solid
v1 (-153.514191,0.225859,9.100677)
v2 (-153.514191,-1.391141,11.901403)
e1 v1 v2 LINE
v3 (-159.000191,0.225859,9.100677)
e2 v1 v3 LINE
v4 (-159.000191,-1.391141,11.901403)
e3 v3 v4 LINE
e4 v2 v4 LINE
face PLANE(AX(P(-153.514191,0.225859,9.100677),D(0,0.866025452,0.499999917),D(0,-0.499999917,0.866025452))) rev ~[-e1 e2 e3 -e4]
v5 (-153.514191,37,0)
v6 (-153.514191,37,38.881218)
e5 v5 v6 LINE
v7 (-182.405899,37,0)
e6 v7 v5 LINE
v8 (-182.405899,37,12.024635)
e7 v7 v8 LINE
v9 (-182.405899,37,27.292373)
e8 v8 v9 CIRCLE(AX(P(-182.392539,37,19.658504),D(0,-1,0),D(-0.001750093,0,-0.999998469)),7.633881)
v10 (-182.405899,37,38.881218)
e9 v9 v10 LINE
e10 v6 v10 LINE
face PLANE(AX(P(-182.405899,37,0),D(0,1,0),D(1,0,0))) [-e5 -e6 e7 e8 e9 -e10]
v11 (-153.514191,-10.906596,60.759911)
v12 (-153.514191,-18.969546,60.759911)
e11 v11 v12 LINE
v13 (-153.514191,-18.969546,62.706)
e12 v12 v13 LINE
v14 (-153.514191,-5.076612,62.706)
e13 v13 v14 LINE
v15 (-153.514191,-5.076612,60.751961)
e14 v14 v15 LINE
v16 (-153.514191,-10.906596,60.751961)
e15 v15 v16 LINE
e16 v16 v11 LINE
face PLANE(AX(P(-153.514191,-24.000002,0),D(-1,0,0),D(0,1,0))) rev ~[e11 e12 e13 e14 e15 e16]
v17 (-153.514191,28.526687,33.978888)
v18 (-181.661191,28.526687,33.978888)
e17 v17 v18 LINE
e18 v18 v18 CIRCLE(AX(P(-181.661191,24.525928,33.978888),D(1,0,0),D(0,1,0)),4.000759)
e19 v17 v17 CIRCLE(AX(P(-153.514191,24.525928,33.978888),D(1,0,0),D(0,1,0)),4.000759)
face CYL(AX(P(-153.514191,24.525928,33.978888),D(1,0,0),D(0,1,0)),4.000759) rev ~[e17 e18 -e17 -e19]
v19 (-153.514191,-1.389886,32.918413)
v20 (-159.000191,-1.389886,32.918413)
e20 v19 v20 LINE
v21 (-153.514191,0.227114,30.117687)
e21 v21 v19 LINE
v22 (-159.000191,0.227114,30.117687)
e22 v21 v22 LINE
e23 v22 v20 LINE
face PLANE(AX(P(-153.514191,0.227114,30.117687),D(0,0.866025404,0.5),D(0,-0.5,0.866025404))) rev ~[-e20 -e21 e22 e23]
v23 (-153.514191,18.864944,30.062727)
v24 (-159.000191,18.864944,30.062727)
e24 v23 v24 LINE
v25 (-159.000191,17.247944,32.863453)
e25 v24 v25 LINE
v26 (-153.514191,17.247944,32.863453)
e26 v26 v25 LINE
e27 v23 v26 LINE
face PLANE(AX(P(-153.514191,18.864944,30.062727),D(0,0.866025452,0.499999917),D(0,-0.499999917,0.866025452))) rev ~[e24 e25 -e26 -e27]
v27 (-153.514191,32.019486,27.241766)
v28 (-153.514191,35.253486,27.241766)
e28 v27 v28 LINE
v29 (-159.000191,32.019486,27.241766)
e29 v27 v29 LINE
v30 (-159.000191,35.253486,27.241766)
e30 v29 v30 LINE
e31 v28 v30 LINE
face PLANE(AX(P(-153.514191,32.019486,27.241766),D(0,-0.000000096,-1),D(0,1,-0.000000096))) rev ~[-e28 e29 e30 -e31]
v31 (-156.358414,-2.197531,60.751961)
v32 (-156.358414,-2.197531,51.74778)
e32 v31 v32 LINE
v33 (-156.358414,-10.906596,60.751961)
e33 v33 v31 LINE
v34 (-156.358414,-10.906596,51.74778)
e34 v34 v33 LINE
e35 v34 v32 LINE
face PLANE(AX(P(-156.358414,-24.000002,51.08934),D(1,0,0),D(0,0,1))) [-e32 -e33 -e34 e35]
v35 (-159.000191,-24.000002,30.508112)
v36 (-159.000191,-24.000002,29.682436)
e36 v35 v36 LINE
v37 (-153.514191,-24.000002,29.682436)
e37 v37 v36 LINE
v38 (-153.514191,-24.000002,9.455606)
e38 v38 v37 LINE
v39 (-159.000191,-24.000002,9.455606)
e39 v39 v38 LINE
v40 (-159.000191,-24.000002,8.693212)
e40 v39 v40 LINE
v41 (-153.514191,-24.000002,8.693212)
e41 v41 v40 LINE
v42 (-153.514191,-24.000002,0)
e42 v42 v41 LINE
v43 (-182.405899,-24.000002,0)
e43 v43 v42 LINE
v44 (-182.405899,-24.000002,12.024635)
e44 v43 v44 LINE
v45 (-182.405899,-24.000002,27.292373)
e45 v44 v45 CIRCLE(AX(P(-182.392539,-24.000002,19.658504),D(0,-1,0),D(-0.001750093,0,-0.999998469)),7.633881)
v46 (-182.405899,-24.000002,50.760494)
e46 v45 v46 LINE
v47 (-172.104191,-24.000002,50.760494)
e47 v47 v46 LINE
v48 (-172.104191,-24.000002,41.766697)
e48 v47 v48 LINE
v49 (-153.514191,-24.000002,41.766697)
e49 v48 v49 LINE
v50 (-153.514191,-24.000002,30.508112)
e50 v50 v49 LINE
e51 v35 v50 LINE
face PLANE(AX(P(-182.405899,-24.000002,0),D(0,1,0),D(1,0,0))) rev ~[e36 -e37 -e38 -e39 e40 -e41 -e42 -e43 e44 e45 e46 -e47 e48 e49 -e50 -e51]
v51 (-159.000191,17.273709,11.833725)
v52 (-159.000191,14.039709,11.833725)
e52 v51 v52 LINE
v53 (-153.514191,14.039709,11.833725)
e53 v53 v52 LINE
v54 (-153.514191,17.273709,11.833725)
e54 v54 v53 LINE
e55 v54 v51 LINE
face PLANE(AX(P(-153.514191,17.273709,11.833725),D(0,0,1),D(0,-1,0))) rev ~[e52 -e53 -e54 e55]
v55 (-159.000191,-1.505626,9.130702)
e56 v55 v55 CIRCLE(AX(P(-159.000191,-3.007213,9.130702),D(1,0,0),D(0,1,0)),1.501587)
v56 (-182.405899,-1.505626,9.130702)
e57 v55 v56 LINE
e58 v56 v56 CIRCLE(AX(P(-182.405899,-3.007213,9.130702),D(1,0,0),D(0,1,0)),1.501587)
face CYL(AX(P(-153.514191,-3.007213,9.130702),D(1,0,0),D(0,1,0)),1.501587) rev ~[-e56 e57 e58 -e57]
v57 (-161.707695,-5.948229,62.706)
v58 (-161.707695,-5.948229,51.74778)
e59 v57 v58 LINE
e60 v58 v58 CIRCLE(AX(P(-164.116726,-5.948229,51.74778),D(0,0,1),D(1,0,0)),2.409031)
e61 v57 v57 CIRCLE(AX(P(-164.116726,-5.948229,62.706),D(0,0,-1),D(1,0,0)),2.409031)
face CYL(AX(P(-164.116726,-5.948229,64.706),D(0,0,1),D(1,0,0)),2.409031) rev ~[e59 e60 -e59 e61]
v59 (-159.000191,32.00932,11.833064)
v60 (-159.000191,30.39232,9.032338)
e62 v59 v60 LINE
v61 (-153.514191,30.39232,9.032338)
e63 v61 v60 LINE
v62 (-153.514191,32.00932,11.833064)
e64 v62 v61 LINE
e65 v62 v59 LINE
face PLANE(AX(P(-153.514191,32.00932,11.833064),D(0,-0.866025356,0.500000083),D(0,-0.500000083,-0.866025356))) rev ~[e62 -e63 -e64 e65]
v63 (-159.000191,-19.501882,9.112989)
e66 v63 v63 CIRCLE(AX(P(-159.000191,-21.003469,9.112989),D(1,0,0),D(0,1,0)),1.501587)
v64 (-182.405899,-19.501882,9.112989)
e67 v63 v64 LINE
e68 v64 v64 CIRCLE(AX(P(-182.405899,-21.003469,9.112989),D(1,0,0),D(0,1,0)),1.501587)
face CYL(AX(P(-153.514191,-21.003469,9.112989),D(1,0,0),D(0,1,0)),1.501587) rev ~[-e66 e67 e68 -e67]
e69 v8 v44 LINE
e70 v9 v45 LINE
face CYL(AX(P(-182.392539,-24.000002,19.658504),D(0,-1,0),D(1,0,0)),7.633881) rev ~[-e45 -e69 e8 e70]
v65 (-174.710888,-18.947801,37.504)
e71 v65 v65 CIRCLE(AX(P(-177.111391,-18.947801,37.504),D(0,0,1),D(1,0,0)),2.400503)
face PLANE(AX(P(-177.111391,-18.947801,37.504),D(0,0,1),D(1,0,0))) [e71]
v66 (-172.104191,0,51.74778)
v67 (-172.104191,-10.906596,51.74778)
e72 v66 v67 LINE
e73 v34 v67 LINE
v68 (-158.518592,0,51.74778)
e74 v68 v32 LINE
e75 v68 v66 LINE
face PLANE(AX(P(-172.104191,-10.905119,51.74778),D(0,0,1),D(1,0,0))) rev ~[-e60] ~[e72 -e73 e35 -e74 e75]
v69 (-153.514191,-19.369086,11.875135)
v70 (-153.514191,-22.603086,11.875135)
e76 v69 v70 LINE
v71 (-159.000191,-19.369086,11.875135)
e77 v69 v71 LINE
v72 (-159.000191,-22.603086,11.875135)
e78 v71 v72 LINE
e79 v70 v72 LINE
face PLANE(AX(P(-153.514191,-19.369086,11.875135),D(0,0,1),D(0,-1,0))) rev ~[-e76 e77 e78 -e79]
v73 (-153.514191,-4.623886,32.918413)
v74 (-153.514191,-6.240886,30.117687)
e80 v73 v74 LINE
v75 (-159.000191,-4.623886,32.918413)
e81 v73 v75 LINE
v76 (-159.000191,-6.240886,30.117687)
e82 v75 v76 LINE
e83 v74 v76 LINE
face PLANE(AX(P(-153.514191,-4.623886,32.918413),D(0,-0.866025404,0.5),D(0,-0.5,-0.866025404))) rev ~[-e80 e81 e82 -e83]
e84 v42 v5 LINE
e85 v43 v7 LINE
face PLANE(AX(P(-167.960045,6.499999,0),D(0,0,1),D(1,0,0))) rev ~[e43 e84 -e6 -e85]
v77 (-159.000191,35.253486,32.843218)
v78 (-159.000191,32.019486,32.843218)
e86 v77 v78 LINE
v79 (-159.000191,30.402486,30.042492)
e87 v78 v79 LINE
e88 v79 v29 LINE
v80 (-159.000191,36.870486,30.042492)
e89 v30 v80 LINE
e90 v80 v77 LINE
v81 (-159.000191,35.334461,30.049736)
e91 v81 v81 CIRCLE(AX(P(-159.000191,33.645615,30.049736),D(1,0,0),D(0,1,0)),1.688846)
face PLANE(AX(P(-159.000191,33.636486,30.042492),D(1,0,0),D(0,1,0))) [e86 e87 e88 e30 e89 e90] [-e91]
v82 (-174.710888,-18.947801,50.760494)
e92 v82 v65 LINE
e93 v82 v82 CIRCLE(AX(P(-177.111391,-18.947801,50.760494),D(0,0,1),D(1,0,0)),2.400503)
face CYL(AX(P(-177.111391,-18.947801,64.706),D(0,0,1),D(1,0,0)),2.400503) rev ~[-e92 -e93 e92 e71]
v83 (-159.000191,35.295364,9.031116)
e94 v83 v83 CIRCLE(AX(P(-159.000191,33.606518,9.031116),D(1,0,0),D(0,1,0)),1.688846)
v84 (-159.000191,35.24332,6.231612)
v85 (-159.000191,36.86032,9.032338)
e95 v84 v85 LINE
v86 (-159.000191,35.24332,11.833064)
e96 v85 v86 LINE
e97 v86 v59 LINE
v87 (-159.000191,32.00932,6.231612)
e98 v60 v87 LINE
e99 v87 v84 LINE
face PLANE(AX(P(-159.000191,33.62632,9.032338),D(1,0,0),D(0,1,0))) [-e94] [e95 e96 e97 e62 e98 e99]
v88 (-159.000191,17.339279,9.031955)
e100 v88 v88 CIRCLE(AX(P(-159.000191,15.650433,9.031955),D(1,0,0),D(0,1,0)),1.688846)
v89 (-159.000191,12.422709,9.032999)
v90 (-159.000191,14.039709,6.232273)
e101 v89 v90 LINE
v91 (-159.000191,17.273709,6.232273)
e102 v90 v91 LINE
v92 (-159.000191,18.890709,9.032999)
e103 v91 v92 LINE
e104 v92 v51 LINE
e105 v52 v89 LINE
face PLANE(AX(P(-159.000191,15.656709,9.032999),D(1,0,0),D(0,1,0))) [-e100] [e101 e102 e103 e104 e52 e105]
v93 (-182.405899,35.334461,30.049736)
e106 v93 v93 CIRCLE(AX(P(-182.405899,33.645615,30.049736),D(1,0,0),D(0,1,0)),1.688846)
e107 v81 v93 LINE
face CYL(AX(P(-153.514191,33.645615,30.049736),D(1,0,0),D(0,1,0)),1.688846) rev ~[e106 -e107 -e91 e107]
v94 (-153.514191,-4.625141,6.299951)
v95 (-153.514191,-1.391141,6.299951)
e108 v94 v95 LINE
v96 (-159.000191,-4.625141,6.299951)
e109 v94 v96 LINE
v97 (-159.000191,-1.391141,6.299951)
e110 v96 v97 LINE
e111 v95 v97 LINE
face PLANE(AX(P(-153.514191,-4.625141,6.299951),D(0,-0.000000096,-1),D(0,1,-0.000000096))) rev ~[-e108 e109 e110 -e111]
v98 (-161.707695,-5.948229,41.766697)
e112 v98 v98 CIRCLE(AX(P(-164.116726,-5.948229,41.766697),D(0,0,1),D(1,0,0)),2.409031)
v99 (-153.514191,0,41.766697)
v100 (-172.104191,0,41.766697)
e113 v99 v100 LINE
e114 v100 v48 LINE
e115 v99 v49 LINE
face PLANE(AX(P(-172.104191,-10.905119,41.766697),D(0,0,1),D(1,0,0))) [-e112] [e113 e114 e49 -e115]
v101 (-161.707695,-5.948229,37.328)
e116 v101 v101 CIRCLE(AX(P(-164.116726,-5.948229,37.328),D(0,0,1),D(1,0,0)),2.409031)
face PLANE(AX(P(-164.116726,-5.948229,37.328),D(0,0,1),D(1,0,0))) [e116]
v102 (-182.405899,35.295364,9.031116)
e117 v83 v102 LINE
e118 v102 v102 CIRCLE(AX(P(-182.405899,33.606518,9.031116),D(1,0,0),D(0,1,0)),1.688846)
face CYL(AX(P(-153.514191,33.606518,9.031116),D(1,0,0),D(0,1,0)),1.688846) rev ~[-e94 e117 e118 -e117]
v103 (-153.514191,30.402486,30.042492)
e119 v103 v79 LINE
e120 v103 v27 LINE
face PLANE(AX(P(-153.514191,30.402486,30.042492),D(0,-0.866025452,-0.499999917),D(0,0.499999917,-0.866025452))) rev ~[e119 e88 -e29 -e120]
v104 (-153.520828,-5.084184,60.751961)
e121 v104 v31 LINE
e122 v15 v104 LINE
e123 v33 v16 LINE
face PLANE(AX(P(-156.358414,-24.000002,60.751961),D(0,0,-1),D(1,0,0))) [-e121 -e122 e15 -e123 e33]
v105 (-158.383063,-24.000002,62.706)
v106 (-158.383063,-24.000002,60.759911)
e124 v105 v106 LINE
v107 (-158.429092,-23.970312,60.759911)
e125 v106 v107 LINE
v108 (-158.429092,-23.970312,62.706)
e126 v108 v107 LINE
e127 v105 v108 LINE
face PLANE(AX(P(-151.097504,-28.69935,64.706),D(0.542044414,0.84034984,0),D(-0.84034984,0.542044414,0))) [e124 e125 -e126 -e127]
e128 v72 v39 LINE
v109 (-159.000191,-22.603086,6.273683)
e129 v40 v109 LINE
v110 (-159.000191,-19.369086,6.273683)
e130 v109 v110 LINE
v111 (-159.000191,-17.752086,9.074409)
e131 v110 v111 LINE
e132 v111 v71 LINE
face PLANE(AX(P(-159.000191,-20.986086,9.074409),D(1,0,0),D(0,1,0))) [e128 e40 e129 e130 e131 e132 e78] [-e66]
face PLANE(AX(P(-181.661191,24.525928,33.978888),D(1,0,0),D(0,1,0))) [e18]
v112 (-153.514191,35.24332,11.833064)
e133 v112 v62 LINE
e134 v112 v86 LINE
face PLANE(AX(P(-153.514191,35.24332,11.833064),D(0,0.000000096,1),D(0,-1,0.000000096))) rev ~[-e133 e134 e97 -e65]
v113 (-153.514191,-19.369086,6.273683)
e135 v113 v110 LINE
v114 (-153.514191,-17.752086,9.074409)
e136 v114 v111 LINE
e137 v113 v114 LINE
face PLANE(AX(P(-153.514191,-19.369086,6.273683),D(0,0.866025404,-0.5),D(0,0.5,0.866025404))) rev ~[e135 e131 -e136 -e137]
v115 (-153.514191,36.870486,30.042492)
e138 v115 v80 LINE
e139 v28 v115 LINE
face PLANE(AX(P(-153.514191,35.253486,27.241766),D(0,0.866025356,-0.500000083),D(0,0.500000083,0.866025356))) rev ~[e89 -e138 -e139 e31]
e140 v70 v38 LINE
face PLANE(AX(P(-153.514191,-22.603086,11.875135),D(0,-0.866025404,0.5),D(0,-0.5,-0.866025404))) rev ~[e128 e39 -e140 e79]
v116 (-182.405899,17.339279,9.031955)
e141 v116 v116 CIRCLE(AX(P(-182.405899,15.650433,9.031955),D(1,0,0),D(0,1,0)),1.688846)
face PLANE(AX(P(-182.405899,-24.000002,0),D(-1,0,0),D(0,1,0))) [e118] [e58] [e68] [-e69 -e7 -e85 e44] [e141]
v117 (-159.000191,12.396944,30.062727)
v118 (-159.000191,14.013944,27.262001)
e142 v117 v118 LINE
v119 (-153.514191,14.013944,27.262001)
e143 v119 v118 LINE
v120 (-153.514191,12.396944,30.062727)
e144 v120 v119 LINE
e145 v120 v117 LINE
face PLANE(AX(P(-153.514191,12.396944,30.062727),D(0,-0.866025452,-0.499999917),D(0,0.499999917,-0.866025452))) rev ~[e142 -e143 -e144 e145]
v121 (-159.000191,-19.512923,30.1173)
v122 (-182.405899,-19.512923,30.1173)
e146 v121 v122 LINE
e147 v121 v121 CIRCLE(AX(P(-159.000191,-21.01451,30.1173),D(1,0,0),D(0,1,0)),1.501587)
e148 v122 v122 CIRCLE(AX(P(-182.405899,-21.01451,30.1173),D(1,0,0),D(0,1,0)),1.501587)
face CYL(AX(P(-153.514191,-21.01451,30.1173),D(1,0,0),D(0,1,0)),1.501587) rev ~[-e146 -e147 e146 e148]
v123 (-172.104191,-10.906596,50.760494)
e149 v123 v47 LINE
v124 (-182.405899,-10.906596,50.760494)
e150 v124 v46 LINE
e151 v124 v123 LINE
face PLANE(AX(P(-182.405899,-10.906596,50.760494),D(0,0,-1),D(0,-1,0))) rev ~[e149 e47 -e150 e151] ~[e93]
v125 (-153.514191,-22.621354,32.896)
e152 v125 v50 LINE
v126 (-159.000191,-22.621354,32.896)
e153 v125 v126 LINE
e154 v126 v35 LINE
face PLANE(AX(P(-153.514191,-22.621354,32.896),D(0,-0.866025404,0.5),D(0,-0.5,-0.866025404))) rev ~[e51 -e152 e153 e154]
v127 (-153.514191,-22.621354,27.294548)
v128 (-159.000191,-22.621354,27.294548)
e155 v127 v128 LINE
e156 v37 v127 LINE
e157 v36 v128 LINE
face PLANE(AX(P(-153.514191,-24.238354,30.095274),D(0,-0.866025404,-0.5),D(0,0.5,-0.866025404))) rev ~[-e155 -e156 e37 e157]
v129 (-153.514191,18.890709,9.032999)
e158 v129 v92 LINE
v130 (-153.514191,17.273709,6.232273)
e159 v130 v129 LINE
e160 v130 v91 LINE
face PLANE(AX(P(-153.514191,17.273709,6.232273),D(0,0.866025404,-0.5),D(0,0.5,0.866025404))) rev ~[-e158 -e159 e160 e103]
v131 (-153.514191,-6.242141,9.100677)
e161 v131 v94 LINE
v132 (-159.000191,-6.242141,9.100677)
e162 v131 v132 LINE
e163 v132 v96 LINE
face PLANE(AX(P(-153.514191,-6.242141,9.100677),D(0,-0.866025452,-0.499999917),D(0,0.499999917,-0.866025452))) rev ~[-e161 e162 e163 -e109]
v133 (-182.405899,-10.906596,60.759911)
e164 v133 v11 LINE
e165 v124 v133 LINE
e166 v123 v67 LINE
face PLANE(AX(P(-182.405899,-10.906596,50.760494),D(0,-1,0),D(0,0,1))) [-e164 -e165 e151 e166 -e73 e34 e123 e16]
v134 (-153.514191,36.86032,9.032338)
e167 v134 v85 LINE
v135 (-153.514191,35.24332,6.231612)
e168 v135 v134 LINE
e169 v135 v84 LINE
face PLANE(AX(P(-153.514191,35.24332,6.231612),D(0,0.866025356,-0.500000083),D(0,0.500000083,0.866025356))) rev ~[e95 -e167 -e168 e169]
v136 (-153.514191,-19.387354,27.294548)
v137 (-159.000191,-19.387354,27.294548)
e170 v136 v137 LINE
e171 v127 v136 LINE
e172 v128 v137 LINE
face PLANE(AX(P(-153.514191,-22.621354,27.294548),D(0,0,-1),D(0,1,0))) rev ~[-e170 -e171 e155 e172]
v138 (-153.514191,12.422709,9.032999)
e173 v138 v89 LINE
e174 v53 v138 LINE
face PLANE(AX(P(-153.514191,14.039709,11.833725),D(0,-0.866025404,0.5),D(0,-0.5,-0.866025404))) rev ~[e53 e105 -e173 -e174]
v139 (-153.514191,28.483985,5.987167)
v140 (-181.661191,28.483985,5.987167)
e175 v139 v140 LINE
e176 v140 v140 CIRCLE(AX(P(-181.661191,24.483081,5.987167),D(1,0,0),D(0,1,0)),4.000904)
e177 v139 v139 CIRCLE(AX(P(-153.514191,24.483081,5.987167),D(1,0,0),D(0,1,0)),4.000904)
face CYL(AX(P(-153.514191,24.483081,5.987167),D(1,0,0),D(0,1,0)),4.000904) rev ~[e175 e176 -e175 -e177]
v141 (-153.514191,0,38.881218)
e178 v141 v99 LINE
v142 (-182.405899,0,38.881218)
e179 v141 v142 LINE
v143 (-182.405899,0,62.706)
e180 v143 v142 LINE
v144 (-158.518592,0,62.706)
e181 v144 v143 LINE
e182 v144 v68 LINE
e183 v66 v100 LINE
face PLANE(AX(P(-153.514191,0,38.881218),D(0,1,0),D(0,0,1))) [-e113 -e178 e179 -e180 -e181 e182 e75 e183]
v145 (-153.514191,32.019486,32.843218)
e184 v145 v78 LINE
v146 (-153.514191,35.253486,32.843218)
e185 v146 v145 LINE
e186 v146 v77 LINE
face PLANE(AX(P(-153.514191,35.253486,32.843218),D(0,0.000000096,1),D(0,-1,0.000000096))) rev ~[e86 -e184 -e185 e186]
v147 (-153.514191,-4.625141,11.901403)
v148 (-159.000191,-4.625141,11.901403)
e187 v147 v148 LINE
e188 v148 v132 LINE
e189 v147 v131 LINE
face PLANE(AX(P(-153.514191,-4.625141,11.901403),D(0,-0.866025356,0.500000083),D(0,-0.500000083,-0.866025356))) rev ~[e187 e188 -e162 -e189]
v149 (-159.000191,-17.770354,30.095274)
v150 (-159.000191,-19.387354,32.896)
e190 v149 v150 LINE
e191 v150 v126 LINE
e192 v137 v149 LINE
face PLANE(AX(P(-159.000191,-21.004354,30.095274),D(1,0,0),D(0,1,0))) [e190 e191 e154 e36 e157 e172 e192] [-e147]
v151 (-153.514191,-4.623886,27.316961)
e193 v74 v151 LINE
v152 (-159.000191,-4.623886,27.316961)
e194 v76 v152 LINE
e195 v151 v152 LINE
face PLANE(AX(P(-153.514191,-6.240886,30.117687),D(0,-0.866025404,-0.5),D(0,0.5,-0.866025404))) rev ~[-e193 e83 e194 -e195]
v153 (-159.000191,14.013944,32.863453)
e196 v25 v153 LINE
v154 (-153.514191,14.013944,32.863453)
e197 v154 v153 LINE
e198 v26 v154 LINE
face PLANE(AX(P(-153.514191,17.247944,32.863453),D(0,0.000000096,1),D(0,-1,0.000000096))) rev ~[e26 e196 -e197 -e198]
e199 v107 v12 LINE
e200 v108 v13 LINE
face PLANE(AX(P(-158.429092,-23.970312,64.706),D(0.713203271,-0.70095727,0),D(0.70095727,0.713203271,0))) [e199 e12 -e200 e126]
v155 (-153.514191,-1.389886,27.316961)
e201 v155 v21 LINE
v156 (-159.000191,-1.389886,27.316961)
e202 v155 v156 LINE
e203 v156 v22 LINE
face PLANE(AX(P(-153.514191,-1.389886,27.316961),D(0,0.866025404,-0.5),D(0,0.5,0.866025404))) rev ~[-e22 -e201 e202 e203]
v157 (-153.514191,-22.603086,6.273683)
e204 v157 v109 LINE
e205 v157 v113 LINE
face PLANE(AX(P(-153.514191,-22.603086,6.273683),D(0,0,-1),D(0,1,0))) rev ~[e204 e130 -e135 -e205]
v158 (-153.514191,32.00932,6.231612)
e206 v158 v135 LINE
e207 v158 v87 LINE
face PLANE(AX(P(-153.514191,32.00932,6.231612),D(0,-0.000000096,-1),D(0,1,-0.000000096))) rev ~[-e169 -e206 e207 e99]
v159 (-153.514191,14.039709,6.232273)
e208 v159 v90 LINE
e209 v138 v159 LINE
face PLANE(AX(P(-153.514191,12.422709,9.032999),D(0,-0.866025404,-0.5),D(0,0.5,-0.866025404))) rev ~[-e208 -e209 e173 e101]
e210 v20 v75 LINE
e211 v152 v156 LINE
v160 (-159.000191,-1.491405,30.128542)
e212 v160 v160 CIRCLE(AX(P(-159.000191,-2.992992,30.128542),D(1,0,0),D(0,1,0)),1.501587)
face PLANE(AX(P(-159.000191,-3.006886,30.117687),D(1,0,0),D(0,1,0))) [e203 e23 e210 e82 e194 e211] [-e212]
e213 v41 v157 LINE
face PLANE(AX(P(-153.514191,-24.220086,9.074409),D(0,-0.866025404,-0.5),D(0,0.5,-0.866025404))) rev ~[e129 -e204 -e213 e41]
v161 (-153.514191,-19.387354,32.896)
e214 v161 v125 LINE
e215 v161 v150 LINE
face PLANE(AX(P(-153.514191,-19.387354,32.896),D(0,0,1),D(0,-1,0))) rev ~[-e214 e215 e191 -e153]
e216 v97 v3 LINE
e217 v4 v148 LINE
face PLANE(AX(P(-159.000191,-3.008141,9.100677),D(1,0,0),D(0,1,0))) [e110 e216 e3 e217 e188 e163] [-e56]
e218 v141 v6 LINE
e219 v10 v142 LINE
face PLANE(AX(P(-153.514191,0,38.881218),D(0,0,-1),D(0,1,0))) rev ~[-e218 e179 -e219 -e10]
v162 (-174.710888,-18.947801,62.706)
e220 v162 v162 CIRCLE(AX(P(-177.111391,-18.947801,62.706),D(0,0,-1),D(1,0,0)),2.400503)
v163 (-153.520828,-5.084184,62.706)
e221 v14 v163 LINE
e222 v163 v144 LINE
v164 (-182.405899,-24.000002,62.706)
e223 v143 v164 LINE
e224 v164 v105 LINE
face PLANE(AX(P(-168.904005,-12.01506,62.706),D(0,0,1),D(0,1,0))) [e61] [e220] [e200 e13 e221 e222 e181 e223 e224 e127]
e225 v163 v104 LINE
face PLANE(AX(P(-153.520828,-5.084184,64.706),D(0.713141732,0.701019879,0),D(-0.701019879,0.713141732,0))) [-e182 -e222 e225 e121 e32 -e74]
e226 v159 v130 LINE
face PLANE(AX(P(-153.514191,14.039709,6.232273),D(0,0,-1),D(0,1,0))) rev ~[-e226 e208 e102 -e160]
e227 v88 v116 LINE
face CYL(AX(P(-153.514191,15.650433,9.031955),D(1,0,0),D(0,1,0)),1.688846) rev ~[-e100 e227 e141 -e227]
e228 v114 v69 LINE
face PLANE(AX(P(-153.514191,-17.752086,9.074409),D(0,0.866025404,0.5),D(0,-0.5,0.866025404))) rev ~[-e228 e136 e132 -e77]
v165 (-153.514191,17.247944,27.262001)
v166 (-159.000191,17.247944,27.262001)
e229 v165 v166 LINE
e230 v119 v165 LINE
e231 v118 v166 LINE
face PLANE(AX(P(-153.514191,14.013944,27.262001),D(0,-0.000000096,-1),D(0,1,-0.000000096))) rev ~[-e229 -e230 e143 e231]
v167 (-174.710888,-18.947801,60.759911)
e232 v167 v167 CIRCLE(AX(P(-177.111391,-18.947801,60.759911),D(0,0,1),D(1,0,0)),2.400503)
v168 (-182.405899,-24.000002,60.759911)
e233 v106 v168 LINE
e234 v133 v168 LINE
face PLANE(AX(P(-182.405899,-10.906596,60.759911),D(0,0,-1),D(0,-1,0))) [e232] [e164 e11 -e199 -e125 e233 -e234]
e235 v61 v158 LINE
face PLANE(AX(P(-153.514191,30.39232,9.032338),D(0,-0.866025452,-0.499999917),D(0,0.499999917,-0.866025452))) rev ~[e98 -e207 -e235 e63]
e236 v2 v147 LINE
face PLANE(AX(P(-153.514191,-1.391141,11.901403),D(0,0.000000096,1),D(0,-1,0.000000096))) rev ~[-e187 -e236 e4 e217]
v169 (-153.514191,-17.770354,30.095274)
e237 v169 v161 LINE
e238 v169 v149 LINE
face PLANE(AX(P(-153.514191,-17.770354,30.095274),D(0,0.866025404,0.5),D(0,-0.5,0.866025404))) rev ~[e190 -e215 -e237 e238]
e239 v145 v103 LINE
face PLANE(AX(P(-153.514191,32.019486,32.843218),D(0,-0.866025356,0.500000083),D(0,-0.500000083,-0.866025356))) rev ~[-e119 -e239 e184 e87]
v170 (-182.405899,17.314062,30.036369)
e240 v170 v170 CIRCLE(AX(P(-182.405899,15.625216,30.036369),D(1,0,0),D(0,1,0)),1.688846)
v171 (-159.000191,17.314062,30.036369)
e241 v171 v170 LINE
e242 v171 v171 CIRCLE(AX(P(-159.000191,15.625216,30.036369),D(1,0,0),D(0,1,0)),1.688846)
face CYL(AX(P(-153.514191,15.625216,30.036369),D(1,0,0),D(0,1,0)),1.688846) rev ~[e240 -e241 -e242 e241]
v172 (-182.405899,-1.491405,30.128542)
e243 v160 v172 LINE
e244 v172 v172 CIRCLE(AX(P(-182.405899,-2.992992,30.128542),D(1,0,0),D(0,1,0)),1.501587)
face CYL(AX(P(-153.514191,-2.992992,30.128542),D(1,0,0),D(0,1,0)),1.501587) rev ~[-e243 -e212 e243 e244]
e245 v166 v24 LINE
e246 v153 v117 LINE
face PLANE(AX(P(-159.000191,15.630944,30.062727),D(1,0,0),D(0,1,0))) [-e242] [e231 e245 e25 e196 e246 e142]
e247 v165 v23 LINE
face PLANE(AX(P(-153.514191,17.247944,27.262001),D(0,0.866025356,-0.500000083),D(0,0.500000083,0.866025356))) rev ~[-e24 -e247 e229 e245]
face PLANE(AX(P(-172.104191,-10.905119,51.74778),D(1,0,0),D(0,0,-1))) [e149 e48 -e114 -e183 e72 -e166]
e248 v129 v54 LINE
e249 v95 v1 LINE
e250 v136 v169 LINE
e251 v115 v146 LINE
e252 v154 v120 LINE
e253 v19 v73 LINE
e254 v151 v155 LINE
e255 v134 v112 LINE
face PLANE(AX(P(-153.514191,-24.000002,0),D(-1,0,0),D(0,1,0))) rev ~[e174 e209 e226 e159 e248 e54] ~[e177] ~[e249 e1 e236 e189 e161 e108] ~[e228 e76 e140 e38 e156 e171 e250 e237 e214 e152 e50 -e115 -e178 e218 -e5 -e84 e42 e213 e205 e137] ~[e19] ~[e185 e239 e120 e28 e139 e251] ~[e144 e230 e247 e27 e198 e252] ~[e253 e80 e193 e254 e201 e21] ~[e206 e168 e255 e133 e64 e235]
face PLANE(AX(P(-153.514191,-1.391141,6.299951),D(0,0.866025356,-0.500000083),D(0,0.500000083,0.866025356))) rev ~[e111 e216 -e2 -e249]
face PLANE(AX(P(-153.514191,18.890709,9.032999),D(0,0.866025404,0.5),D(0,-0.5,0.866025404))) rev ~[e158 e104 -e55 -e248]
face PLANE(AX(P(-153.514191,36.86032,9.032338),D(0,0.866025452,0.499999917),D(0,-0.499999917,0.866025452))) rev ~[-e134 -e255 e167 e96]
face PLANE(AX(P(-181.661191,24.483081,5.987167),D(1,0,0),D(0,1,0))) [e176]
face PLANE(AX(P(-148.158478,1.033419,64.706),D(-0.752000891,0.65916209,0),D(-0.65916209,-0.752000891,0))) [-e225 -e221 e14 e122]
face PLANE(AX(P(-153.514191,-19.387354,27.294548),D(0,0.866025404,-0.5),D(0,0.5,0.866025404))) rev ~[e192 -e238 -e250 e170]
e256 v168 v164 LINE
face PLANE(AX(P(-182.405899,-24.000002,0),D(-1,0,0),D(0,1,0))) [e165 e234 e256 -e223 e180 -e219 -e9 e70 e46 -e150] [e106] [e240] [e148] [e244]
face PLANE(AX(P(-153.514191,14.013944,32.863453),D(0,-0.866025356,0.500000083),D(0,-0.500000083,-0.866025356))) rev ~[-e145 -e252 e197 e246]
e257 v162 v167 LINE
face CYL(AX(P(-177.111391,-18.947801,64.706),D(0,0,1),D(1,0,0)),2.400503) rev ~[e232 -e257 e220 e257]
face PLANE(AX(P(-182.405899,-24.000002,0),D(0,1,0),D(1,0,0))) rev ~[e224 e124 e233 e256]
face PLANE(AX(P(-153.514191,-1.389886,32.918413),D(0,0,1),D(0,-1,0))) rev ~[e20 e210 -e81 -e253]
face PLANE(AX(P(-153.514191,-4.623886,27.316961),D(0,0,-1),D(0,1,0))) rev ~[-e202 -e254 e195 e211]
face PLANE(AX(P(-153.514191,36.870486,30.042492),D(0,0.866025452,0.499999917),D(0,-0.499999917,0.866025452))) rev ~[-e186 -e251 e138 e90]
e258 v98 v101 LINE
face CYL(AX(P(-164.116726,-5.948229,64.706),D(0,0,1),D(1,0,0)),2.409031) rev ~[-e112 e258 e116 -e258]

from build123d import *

# Parameters (mm, degrees)
SKETCH_W             = 28.891708
SKETCH_H             = 61.000002
PAD_DEPTH            = 64.706
POCKET_DEPTH         = 5.486
SKETCH002_R          = 4.000759
SKETCH002_R_2        = 4.000904
POCKET013_DEPTH      = 28.147
SKETCH003_R          = 7.633881
POCKET014_DEPTH      = 90
SKETCH004_R          = 1.501587
SKETCH004_R_2        = 1.6888463945
SKETCH004_R_3        = 1.688846
POCKET015_DEPTH      = 71
SKETCH005_W          = 61.94006
SKETCH005_H          = 58.87719
POCKET016_DEPTH      = 34
SKETCH006_W          = 11.564612
SKETCH006_H          = 9.981083
POCKET017_DEPTH      = 18.59
POCKET018_DEPTH      = 14
SKETCH008_W          = 13.093784
SKETCH008_H          = 9.999417
POCKET019_DEPTH      = 38
POCKET019_FACE20_W   = 18.59
POCKET019_FACE20_H   = 9.981083
POCKET020_DEPTH      = 21
SKETCH009_R          = 2.400503
POCKET021_DEPTH      = 27.202
SKETCH010_R          = 2.409031
POCKET022_DEPTH      = 27.378
SKETCH011_W          = 3.434418
SKETCH011_H          = 9.662621
POCKET023_DEPTH      = 54
POCKET023_FACE73_R   = 2.400503
POCKET023_FACE73_R_2 = 2.409031
POCKET024_DEPTH      = 2


with BuildPart() as part:
    # Sketch → Pad (new body)
    with BuildSketch(Plane.XY):
        with Locations((-167.960045, 6.499999)):
            Rectangle(SKETCH_W, SKETCH_H)
    extrude(amount=PAD_DEPTH)

    # Sketch001 (on Face2 of Pad) → Pocket (cut)
    with BuildSketch(Plane.YZ.offset(-153.514191)):
        Polygon((0.227114, 30.1176869999), (-1.3898859999, 32.9184131558), (-4.6238859999, 32.9184131559), (-6.240886, 30.1176870001), (-4.6238860001, 27.3169608442), (-1.3898860001, 27.3169608441), align=None)
        Polygon((18.864944, 30.0627266883), (17.2479442699, 32.863453), (14.0139442699, 32.8634533117), (12.396944, 30.0627273117), (14.0139437301, 27.262001), (17.2479437301, 27.2620006883), align=None)
        Polygon((36.870486, 30.0424916883), (35.2534862699, 32.843218), (32.0194862699, 32.8432183117), (30.402486, 30.0424923117), (32.0194857301, 27.241766), (35.2534857301, 27.2417656883), align=None)
        Polygon((-17.752086, 9.074409), (-19.369086, 11.8751351559), (-22.603086, 11.8751351558), (-24.220086, 9.074409), (-22.603086, 6.2736828441), (-19.369086, 6.2736828442), align=None)
        Polygon((0.225859, 9.1006766883), (-1.3911407301, 11.901403), (-4.6251407301, 11.9014033117), (-6.242141, 9.1006773117), (-4.6251412699, 6.299951), (-1.3911412699, 6.2999506883), align=None)
        Polygon((36.86032, 9.0323376883), (35.2433202699, 11.833064), (32.0093202699, 11.8330643117), (30.39232, 9.0323383117), (32.0093197301, 6.231612), (35.2433197301, 6.2316116883), align=None)
        Polygon((18.890709, 9.0329989998), (17.2737090002, 11.8337251557), (14.0397090002, 11.8337251559), (12.422709, 9.0329990002), (14.0397089998, 6.2322728443), (17.2737089998, 6.2322728441), align=None)
        Polygon((-17.770354, 30.0952738442), (-19.387354, 32.896), (-22.621354, 32.896), (-24.238354, 30.0952738442), (-22.621354, 27.2945476883), (-19.387354, 27.2945476883), align=None)
    extrude(amount=-POCKET_DEPTH, mode=Mode.SUBTRACT)

    # Sketch002 (on Face3 of Pocket) → Pocket013 (cut)
    with BuildSketch(Plane.YZ.offset(-153.514191)):
        with Locations((24.525928, 33.978888)):
            Circle(SKETCH002_R)
        with Locations((24.483081, 5.987167)):
            Circle(SKETCH002_R_2)
    extrude(amount=-POCKET013_DEPTH, mode=Mode.SUBTRACT)

    # Sketch003 (on Face1 of Pocket013) → Pocket014 (cut)
    with BuildSketch(Plane.XZ.offset(24.000002)):
        with Locations((-182.392539, 19.658504)):
            Circle(SKETCH003_R)
    extrude(amount=-POCKET014_DEPTH, mode=Mode.SUBTRACT)

    # Sketch004 (on Face3 of Pocket014) → Pocket015 (cut)
    with BuildSketch(Plane.YZ.offset(-153.514191)):
        with Locations((-2.992992, 30.128542)):
            Circle(SKETCH004_R)
        with Locations((15.650433, 9.031955)):
            Circle(SKETCH004_R_2)
        with Locations((-21.003469, 9.112989)):
            Circle(SKETCH004_R)
        with Locations((-3.007213, 9.130702)):
            Circle(SKETCH004_R)
        with Locations((-21.01451, 30.1173)):
            Circle(SKETCH004_R)
        with Locations((33.645615, 30.049736)):
            Circle(SKETCH004_R_3)
        with Locations((33.606518, 9.031116)):
            Circle(SKETCH004_R_3)
        with Locations((15.625216, 30.036369)):
            Circle(SKETCH004_R_3)
    extrude(amount=-POCKET015_DEPTH, mode=Mode.SUBTRACT)

    # Sketch005 (on Face3 of Pocket015) → Pocket016 (cut)
    with BuildSketch(Plane.YZ.offset(-153.514191)):
        with Locations((30.97003, 68.319813)):
            Rectangle(SKETCH005_W, SKETCH005_H)
    extrude(amount=-POCKET016_DEPTH, mode=Mode.SUBTRACT)

    # Sketch006 (on Face3 of Pocket016) → Pocket017 (cut)
    with BuildSketch(Plane.YZ.offset(-153.514191)):
        with Locations((-5.122813, 46.7572385)):
            Rectangle(SKETCH006_W, SKETCH006_H)
    extrude(amount=-POCKET017_DEPTH, mode=Mode.SUBTRACT)

    # Sketch007 (on Face10 of Pocket017) → Pocket018 (cut)
    with BuildSketch(Plane.XY.offset(64.706)):
        Polygon((-158.429092, -23.970312), (-153.252335, -18.703115), (-151.097504, -28.69935), align=None)
        Polygon((-153.520828, -5.084184), (-159.130096, 0.622078), (-148.158478, 1.033419), align=None)
    extrude(amount=-POCKET018_DEPTH, mode=Mode.SUBTRACT)

    # Sketch008 (on Face13 of Pocket018) → Pocket019 (cut)
    with BuildSketch(Plane(origin=(-182.405899, 0, 0), x_dir=(0, -1, 0), z_dir=(-1, 0, 0))):
        with Locations((17.453488, 55.7602025)):
            Rectangle(SKETCH008_W, SKETCH008_H)
    extrude(amount=-POCKET019_DEPTH, mode=Mode.SUBTRACT)

    # Pocket019 Face20 → Pocket020 (cut)
    with BuildSketch(Plane(origin=(-162.809191, -10.905119, 46.7572385), x_dir=(1, 0, 0), z_dir=(0, 1, 0))):
        Rectangle(POCKET019_FACE20_W, POCKET019_FACE20_H)
    extrude(amount=-POCKET020_DEPTH, mode=Mode.SUBTRACT)

    # Sketch009 (on Face68 of Pocket020) → Pocket021 (cut)
    with BuildSketch(Plane.XY.offset(64.706)):
        with Locations((-177.111391, -18.947801)):
            Circle(SKETCH009_R)
    extrude(amount=-POCKET021_DEPTH, mode=Mode.SUBTRACT)

    # Sketch010 (on Face72 of Pocket021) → Pocket022 (cut)
    with BuildSketch(Plane.XY.offset(64.706)):
        with Locations((-164.116726, -5.948229)):
            Circle(SKETCH010_R)
    extrude(amount=-POCKET022_DEPTH, mode=Mode.SUBTRACT)

    # Sketch011 (on Face1 of Pocket022) → Pocket023 (cut)
    with BuildSketch(Plane.XZ.offset(24.000002)):
        with Locations((-154.641205, 55.9206505)):
            Rectangle(SKETCH011_W, SKETCH011_H)
    extrude(amount=-POCKET023_DEPTH, mode=Mode.SUBTRACT)

    # Pocket023 Face73 → Pocket024 (cut)
    with BuildSketch(Plane(origin=(-168.318188921, -11.9801298357, 64.706), x_dir=(0, 1, 0), z_dir=(0, 0, 1))):
        Polygon((11.9801298357, -9.7995969527), (11.9801298357, 14.087710079), (-12.0198721643, 14.087710079), (-12.0198721643, -9.935126335), (-11.9901821643, -9.889096921), (-6.9894158925, -14.803997921), (6.9035176151, -14.803997921), (6.8959458357, -14.797360921), align=None)
        with Locations((-6.9676711643, 8.793202079)):
            Circle(POCKET023_FACE73_R, mode=Mode.SUBTRACT)
        with Locations((6.0319008357, -4.201462921)):
            Circle(POCKET023_FACE73_R_2, mode=Mode.SUBTRACT)
    extrude(amount=-POCKET024_DEPTH, mode=Mode.SUBTRACT)


solid = part.part
